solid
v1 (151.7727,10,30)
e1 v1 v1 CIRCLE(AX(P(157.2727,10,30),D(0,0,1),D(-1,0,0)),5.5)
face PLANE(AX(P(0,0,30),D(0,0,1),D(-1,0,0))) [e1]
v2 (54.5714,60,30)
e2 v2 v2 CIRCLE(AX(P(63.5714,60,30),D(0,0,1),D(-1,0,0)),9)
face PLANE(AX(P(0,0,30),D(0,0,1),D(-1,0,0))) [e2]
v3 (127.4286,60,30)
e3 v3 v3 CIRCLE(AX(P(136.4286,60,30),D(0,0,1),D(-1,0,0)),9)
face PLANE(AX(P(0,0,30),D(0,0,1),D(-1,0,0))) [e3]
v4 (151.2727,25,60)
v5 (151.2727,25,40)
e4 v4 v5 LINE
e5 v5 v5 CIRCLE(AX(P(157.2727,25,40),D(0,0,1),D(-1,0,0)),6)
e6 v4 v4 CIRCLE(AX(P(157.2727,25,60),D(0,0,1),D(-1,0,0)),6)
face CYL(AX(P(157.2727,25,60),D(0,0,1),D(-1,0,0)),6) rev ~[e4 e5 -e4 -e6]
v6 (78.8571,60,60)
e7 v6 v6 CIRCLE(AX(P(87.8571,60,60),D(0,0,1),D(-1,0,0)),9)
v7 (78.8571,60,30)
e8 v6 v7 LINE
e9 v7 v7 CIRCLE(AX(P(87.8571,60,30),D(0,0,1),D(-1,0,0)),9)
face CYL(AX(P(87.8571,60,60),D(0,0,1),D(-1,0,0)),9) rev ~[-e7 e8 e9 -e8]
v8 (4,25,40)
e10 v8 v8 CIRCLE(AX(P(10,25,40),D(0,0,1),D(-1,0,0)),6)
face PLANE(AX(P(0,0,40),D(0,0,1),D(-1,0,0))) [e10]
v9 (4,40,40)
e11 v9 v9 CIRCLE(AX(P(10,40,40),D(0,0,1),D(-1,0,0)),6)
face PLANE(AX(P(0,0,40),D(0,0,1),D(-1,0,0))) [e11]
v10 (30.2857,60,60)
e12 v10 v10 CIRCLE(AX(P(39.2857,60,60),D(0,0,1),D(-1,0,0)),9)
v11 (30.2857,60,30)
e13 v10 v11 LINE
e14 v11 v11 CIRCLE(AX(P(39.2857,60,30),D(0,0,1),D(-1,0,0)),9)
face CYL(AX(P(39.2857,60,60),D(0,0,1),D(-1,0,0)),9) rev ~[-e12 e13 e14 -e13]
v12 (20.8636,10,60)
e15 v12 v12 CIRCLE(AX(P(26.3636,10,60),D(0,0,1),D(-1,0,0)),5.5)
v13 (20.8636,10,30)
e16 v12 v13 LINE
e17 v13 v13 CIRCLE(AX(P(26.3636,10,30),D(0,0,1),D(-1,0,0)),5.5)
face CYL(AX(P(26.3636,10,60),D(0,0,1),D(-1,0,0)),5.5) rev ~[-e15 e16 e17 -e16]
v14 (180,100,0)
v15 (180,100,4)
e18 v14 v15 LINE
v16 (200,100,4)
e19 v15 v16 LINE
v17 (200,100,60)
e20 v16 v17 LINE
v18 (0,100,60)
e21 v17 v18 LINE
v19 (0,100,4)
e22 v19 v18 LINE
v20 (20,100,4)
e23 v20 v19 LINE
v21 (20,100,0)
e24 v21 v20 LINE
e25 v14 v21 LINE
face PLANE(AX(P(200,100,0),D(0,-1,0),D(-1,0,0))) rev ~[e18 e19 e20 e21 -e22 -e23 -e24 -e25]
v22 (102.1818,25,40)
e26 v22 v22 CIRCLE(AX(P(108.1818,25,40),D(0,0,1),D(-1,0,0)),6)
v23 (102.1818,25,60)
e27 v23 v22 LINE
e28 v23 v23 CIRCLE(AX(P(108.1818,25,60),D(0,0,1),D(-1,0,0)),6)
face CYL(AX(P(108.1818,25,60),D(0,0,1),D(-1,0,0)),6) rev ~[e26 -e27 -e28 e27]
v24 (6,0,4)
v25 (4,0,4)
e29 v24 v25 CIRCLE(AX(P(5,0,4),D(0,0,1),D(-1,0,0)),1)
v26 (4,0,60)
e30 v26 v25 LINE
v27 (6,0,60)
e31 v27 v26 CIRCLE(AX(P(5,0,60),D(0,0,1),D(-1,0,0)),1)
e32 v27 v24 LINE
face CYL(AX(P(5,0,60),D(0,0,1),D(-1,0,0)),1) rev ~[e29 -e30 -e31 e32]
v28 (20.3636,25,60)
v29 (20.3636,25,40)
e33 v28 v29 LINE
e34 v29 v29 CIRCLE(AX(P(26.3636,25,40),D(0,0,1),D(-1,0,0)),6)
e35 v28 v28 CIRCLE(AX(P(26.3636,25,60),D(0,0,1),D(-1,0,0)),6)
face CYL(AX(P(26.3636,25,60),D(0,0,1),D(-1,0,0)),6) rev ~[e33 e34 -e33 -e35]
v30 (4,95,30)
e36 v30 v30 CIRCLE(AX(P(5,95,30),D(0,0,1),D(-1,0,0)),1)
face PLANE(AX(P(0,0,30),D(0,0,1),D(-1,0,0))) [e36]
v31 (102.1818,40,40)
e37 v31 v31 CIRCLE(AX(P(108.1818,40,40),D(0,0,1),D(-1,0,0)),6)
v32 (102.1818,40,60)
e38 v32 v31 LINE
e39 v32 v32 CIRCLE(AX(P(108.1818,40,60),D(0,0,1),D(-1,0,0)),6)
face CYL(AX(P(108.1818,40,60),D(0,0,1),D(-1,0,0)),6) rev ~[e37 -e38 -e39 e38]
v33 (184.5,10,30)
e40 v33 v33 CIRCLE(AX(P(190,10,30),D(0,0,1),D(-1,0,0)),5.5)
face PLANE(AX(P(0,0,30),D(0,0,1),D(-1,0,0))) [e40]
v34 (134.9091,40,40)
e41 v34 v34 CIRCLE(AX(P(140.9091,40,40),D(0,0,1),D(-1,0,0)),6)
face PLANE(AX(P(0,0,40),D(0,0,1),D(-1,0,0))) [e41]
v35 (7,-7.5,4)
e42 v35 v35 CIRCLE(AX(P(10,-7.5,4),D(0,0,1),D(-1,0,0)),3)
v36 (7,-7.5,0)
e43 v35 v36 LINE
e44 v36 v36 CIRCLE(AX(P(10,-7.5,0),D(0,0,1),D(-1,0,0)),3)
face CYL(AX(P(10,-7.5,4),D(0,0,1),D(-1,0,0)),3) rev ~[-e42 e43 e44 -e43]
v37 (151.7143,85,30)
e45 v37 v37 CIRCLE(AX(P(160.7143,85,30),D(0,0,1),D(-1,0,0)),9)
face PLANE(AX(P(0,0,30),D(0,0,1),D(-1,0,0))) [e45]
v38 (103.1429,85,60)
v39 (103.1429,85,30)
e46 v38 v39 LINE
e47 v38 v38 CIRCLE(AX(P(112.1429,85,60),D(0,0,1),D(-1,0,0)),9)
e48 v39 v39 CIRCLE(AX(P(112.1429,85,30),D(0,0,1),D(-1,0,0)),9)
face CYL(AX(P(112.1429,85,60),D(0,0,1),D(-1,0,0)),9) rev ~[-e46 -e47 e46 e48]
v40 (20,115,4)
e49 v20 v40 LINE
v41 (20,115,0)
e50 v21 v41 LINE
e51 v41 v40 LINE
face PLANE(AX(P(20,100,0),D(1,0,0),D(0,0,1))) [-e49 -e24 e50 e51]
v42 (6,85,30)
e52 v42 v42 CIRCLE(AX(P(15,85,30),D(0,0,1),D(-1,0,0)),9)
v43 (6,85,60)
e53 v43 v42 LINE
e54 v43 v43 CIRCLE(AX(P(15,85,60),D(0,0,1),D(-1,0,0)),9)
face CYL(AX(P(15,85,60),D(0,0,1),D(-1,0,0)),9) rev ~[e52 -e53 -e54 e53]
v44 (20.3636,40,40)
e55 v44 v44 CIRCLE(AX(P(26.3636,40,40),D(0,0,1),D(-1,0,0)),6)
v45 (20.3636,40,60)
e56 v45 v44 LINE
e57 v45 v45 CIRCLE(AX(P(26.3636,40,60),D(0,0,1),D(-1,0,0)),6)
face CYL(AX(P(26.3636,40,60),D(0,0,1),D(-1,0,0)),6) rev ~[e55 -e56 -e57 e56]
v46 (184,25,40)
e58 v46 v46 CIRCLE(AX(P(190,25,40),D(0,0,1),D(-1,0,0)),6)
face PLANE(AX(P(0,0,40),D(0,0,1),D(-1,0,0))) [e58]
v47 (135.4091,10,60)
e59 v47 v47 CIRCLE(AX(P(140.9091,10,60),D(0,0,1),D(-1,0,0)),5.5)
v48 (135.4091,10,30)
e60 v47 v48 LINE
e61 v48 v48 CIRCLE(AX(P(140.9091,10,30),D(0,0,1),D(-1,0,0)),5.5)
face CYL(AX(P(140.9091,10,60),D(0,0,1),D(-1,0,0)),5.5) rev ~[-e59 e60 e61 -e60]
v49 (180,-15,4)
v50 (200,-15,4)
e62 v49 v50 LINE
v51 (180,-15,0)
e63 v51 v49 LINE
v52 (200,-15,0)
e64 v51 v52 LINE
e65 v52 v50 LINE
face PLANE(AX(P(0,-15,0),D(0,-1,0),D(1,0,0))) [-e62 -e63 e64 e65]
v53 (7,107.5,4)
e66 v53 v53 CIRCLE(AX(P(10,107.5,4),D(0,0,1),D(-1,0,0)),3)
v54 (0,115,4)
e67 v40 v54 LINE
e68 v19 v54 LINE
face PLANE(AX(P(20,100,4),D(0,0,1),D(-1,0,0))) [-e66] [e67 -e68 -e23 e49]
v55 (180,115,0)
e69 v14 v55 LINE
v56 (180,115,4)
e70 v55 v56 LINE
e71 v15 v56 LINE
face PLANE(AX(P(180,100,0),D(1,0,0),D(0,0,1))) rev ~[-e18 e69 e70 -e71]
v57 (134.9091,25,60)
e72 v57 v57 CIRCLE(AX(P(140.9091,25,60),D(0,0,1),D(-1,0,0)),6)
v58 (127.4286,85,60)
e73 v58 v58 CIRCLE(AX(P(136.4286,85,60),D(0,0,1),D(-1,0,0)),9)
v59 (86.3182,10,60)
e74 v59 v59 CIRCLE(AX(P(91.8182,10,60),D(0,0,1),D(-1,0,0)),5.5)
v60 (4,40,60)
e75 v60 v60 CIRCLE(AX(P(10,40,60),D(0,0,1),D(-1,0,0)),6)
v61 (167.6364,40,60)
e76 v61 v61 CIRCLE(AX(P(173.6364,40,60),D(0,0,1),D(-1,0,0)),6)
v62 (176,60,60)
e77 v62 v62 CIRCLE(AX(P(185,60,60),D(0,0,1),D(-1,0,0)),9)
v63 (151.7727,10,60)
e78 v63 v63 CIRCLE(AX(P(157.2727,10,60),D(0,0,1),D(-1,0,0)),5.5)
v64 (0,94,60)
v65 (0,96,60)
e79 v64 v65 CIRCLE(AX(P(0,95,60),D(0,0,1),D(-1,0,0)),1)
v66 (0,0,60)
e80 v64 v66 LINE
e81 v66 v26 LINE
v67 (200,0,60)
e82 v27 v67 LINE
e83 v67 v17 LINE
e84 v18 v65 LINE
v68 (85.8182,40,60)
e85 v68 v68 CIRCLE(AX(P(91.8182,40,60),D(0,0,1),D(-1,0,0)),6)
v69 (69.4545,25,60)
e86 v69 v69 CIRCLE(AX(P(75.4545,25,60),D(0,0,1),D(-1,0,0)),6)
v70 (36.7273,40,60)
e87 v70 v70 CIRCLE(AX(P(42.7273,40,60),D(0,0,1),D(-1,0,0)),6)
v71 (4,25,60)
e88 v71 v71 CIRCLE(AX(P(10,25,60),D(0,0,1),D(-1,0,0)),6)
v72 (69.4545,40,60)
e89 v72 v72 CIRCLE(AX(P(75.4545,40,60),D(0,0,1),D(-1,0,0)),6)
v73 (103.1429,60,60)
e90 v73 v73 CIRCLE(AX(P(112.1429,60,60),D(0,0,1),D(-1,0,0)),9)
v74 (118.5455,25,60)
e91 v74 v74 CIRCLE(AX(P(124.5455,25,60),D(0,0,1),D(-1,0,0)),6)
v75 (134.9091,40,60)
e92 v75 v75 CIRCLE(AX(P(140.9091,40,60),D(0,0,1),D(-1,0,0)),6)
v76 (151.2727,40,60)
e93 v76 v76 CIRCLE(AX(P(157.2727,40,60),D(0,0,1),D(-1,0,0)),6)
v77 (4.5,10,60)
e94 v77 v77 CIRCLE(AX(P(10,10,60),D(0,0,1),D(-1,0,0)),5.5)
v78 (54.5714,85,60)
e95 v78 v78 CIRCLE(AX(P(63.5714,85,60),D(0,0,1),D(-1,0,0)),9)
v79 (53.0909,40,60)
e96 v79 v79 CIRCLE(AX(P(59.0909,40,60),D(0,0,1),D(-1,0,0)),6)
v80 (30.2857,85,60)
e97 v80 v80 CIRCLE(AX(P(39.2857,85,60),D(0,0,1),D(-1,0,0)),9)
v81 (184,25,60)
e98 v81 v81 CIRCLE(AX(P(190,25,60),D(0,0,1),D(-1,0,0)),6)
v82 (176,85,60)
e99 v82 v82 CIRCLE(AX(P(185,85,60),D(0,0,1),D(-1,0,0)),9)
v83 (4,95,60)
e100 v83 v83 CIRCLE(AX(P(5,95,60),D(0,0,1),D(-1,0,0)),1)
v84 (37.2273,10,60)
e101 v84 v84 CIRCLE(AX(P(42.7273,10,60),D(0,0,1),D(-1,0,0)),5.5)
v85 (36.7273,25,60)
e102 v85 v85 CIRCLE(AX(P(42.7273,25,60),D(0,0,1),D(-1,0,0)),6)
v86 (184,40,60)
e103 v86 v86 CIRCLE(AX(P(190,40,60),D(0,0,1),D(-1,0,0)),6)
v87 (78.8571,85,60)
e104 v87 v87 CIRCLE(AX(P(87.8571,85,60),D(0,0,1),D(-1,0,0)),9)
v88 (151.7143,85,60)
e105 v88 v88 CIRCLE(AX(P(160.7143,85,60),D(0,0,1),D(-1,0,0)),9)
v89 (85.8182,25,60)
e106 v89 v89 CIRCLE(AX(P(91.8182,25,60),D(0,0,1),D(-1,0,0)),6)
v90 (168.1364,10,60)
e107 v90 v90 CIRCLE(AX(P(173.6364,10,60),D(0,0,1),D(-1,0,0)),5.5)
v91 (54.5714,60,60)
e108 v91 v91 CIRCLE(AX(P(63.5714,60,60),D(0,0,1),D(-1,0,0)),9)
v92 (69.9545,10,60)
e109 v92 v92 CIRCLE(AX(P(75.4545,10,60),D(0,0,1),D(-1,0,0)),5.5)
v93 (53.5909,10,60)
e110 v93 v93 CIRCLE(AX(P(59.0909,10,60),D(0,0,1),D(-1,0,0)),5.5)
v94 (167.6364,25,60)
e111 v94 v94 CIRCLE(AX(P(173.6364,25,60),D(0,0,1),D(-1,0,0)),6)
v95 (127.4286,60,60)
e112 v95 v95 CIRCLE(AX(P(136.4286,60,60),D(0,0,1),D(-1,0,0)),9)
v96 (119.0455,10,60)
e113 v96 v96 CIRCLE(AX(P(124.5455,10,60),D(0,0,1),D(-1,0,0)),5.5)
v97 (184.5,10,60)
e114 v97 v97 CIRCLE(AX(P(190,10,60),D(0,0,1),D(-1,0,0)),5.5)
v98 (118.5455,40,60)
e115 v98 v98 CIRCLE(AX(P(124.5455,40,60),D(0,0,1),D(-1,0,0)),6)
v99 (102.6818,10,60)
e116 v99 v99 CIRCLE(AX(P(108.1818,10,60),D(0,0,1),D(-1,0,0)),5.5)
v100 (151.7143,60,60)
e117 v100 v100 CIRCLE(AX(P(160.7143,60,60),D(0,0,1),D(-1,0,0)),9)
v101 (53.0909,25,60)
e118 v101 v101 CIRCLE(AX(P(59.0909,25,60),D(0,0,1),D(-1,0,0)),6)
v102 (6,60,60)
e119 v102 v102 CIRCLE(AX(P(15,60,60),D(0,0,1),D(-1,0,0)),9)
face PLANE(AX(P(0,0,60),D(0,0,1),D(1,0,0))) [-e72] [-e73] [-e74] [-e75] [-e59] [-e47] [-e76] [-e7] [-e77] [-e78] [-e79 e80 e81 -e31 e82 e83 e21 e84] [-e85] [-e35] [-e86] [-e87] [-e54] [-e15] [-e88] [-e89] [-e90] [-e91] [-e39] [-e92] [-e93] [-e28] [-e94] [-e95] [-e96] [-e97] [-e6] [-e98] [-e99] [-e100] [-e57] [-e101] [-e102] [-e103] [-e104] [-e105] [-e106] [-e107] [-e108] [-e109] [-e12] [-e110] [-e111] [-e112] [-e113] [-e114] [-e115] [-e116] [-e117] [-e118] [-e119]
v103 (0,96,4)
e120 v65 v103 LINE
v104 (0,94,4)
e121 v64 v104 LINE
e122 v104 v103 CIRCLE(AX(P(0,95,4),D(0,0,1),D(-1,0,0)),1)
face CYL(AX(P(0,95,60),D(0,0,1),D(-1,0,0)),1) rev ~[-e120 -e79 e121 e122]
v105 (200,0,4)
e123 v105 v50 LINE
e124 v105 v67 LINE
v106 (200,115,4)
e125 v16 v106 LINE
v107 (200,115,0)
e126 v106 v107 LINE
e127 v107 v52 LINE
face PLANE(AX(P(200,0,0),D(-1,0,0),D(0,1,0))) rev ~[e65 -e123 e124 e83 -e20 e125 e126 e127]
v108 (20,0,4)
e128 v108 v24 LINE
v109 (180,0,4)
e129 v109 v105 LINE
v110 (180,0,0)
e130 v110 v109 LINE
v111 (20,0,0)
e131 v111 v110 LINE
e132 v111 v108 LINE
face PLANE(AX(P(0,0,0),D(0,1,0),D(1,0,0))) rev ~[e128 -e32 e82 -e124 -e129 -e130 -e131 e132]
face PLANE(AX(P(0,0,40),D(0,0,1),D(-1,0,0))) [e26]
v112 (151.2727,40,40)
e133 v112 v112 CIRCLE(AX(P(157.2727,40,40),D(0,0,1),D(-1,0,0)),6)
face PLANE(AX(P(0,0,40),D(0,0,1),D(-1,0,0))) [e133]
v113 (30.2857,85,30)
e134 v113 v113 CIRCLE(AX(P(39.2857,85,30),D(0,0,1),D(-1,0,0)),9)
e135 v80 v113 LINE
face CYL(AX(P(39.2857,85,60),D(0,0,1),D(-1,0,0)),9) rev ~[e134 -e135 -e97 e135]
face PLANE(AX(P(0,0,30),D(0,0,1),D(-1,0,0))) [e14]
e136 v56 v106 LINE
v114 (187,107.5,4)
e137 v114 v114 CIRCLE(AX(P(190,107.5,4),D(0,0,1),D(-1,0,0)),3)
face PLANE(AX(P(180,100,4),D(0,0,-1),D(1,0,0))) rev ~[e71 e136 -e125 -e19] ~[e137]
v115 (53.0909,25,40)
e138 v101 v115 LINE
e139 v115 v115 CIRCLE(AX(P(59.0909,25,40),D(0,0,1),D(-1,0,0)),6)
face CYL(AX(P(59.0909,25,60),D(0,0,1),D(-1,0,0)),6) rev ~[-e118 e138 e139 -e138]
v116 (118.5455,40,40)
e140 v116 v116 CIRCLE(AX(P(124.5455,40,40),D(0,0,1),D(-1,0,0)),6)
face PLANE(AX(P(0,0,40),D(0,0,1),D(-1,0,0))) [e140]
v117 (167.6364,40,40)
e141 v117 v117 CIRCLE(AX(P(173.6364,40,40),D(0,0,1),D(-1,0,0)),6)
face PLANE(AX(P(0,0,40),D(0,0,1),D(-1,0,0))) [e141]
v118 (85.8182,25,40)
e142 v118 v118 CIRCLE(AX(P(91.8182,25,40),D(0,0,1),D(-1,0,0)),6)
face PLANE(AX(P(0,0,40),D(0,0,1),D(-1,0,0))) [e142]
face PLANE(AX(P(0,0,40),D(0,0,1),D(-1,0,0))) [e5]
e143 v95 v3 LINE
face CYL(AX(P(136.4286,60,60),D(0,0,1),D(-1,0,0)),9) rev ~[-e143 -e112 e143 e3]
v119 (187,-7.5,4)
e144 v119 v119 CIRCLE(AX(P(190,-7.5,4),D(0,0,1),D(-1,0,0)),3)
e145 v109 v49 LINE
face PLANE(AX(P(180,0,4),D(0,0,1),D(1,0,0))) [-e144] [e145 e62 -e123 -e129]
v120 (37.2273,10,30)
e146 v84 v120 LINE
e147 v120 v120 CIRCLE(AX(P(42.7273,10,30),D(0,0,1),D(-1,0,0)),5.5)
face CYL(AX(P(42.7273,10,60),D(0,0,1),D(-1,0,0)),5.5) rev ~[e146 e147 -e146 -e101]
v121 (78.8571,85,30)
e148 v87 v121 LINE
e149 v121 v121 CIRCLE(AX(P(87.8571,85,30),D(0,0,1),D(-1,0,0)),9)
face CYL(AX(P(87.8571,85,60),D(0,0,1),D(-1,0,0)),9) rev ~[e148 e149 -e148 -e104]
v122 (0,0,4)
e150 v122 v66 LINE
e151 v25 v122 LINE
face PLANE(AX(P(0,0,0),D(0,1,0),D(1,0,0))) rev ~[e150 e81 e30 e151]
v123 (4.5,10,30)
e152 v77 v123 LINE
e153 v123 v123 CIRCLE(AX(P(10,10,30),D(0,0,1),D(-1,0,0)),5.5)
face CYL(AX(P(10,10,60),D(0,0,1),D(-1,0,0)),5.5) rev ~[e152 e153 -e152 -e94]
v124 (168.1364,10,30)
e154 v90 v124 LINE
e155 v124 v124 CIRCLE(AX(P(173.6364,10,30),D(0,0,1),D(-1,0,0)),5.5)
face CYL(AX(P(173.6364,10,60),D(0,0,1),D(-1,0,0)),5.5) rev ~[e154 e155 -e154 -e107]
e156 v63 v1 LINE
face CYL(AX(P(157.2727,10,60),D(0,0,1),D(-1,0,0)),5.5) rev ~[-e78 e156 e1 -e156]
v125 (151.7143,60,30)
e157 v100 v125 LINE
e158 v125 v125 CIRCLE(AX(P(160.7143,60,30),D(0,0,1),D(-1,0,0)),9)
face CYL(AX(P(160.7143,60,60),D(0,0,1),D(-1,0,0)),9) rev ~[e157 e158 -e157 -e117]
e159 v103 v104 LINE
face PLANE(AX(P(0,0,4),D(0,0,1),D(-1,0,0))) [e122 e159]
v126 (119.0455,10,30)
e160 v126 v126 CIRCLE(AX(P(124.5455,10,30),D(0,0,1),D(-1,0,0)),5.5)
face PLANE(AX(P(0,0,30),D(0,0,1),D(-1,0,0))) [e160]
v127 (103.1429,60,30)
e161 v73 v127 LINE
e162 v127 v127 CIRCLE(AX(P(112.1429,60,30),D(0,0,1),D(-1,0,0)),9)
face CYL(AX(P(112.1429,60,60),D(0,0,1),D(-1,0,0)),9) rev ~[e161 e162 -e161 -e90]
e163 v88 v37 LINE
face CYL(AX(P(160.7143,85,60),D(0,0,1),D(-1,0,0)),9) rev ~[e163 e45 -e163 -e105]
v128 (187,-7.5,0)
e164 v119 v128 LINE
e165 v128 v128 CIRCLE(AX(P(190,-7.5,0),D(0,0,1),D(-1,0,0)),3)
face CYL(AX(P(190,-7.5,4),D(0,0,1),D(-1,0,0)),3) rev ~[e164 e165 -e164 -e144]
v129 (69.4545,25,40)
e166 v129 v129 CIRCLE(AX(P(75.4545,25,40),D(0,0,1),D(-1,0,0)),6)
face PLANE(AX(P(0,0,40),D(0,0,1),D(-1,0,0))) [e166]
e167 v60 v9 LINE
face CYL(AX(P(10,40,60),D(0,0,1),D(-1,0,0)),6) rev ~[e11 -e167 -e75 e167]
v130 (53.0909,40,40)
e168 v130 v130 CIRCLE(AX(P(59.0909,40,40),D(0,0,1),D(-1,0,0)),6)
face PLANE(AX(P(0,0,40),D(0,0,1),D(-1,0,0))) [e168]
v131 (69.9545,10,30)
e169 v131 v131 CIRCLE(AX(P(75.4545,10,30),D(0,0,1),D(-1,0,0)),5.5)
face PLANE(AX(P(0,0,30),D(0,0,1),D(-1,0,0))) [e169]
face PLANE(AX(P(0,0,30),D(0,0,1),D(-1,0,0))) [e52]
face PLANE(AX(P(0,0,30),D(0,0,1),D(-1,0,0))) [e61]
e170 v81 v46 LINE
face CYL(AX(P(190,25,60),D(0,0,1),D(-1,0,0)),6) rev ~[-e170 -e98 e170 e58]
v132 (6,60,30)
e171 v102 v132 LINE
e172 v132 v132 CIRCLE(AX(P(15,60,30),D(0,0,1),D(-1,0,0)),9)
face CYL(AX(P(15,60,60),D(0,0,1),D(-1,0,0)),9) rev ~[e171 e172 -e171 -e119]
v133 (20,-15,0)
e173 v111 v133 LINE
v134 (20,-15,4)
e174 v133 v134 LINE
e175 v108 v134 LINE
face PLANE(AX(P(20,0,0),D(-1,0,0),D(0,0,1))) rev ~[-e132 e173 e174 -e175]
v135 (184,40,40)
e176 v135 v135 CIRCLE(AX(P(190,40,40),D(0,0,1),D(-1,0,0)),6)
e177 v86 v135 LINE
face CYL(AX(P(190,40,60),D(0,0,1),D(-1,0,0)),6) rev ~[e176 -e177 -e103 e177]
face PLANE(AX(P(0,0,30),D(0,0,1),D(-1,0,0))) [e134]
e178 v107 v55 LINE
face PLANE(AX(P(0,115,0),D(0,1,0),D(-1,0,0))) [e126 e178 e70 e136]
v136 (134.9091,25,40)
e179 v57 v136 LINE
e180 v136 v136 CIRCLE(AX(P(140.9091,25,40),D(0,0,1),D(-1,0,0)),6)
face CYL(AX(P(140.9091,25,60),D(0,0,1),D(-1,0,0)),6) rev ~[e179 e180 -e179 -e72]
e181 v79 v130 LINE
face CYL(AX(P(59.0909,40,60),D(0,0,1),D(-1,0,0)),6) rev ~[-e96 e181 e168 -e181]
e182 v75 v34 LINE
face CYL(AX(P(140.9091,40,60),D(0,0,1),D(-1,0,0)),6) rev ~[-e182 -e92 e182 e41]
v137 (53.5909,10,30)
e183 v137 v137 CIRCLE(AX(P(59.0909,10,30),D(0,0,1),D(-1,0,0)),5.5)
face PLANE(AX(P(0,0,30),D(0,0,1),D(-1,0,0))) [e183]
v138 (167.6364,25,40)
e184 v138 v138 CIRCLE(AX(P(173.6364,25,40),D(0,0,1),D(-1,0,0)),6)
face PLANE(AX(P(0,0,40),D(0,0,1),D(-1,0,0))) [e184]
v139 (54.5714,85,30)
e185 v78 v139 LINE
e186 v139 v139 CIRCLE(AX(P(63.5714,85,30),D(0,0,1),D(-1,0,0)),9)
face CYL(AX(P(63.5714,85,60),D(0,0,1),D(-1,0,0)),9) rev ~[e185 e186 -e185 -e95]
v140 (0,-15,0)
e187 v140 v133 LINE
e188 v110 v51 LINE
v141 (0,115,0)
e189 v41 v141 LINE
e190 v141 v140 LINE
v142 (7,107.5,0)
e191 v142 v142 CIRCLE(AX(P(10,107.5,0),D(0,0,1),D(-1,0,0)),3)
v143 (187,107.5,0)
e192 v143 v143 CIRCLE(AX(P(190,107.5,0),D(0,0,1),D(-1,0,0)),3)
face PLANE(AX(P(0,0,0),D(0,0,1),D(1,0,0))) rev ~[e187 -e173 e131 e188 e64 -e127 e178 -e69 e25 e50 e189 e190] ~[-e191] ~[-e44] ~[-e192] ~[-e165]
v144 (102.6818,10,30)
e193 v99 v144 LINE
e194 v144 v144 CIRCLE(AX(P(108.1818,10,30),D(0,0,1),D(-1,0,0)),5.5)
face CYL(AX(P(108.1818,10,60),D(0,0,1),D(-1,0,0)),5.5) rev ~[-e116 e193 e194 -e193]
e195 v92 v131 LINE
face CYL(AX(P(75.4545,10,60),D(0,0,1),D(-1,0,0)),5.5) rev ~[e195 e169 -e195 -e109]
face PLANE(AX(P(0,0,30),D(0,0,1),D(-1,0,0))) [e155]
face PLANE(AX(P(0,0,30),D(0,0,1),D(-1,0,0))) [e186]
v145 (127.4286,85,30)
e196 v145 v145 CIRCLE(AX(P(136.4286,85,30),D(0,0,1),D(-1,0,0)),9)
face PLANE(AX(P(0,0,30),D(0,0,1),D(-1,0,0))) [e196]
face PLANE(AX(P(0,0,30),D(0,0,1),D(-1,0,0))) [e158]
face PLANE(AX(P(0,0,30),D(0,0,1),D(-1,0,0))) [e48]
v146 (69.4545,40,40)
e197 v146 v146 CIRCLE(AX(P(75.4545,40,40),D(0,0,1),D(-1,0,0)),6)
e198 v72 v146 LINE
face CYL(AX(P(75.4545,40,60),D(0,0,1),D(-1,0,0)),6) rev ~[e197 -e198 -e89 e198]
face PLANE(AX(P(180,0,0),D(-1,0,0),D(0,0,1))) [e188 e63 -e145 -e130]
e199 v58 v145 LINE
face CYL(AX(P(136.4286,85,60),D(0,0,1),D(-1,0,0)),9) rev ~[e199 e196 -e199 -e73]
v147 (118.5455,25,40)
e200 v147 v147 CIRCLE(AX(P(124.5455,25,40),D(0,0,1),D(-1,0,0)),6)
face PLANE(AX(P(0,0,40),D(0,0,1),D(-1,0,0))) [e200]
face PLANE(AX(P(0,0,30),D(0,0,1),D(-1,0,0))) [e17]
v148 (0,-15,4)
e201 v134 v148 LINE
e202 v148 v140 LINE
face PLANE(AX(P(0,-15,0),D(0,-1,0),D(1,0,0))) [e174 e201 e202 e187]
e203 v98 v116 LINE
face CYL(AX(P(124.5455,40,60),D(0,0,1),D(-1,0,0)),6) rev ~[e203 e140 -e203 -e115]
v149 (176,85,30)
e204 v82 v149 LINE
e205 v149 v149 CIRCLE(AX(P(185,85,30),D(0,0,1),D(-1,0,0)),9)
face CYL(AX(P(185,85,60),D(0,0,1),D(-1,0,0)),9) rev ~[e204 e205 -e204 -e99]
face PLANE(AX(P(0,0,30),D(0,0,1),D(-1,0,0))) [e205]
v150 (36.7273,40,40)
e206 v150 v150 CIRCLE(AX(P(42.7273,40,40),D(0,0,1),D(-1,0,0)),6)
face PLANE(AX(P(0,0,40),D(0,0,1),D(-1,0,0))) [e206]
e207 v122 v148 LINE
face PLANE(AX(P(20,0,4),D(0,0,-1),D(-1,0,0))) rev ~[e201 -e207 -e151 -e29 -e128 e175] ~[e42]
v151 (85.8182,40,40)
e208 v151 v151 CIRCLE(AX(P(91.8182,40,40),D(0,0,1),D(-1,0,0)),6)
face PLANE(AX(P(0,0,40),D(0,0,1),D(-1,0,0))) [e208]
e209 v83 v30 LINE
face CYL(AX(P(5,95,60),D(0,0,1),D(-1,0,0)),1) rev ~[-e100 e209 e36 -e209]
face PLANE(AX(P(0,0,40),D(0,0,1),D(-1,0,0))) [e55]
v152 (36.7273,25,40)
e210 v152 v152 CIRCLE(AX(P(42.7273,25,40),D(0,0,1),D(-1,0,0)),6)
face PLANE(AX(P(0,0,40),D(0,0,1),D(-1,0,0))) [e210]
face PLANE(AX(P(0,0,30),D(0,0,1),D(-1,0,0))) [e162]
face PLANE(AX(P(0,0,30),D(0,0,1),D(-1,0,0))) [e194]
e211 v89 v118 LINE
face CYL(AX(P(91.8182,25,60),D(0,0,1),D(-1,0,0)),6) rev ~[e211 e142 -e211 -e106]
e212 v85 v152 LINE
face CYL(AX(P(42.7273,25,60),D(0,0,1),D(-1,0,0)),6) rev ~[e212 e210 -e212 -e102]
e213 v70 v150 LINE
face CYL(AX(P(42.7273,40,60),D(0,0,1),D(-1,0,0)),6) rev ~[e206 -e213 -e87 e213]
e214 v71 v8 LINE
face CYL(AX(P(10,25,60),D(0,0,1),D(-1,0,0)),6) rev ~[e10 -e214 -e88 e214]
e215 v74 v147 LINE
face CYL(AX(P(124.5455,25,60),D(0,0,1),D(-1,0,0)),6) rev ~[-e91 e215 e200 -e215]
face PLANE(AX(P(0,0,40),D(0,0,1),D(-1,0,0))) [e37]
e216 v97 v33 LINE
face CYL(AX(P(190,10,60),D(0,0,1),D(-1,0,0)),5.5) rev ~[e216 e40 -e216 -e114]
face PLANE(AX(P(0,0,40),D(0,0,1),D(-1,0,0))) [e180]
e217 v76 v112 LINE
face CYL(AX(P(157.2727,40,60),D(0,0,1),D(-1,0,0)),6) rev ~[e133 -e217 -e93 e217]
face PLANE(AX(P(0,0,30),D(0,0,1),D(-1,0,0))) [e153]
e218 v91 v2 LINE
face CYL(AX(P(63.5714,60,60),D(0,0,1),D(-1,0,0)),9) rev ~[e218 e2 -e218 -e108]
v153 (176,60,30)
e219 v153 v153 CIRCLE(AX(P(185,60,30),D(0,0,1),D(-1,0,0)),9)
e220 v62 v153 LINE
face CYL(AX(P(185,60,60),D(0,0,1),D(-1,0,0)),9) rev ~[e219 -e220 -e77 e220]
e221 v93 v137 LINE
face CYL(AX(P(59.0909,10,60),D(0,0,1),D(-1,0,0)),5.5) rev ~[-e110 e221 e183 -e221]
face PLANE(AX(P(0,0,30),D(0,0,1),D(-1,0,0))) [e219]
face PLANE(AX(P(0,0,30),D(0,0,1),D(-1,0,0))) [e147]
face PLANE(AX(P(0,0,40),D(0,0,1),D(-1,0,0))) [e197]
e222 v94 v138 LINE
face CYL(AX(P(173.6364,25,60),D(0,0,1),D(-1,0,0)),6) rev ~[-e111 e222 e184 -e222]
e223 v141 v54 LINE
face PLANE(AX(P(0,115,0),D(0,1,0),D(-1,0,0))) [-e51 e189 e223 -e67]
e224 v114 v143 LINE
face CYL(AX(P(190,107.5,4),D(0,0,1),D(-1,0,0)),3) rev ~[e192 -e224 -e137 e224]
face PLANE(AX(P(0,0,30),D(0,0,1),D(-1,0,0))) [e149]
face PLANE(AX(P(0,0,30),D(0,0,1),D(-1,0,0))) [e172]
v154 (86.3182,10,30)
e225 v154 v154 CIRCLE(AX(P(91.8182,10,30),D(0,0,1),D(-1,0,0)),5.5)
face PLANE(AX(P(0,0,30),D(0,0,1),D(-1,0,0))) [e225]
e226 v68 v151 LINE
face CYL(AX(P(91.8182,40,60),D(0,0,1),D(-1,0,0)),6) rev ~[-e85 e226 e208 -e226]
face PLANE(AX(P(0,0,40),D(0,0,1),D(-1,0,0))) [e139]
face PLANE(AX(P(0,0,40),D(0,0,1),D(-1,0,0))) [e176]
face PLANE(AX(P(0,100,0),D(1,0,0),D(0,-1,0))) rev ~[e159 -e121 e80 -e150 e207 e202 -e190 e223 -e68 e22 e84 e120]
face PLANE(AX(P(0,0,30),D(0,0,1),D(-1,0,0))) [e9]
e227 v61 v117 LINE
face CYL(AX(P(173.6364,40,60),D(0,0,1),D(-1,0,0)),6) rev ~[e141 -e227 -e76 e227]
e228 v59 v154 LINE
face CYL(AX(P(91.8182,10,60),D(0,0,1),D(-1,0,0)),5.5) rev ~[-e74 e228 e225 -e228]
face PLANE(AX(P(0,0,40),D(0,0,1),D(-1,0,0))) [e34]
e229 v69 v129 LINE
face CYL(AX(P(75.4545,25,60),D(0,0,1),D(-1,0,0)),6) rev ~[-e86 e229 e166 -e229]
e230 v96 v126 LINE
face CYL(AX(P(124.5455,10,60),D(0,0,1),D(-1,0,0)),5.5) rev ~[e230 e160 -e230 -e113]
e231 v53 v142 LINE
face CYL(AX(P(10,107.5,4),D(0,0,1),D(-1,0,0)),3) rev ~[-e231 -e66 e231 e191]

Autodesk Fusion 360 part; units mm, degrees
sketch "Sketch2" plane through (0, 0, 0) normal (0, 0, 1) x (1, 0, 0)
  line L0 (0, 0) -> (200, 0)
  line L1 (200, 0) -> (200, 100)
  line L2 (200, 100) -> (0, 100)
  line L3 (0, 100) -> (0, 0)
  dimension "d31" = 200
  dimension "d32" = 100
extrude "Extrude2" add sketch "Sketch2" along normal blind 60
sketch "Sketch3" plane through (0, 0, 60) normal (0, 0, 1) x (-1, 0, 0)
  line L0 (0, -100) -> (0, 0)
  line L1 (0, 0) -> (-200, 0)
  line L2 (-200, 0) -> (-200, -100)
  line L3 (-200, -100) -> (0, -100)
  circle A0 centre (-15, -85) radius 9
  circle A1 centre (-39.2857, -85) radius 9
  circle A2 centre (-63.5714, -85) radius 9
  circle A3 centre (-87.8571, -85) radius 9
  circle A4 centre (-112.1429, -85) radius 9
  circle A5 centre (-136.4286, -85) radius 9
  circle A6 centre (-160.7143, -85) radius 9
  circle A7 centre (-185, -85) radius 9
  circle A8 centre (-15, -60) radius 9
  circle A9 centre (-39.2857, -60) radius 9
  circle A10 centre (-63.5714, -60) radius 9
  circle A11 centre (-87.8571, -60) radius 9
  circle A12 centre (-112.1429, -60) radius 9
  circle A13 centre (-136.4286, -60) radius 9
  circle A14 centre (-160.7143, -60) radius 9
  circle A15 centre (-185, -60) radius 9
  dimension "d35" = 18
  dimension "d36" = 15
  dimension "d37" = 15
  dimension "d40" = -170
  dimension "d41" = 0
  dimension "d44" = 0
  dimension "d45" = 25
extrude "Extrude3" cut sketch "Sketch3" against normal blind 30 contours A0 | A1 | A2 | A3 | A4 | A5 | A6 | A7 | A8 | A9 | A10 | A11 | A12 | A13 | A14 | A15
sketch "Sketch4" plane through (0, 0, 60) normal (0, 0, 1) x (-1, 0, 0)
  circle A0 centre (-63.5714, -60) radius 9
  circle A1 centre (-160.7143, -60) radius 9
  circle A2 centre (-136.4286, -85) radius 9
  circle A3 centre (-39.2857, -85) radius 9
  circle A4 centre (-63.5714, -85) radius 9
  circle A5 centre (-160.7143, -85) radius 9
  circle A6 centre (-136.4286, -60) radius 9
  circle A7 centre (-39.2857, -60) radius 9
  circle A8 centre (-87.8571, -60) radius 9
  circle A9 centre (-185, -60) radius 9
  circle A10 centre (-112.1429, -85) radius 9
  circle A11 centre (-15, -85) radius 9
  circle A12 centre (-87.8571, -85) radius 9
  circle A13 centre (-185, -85) radius 9
  circle A14 centre (-112.1429, -60) radius 9
  circle A15 centre (-15, -60) radius 9
  line L0 (0, -100) -> (0, 0)
  line L1 (0, 0) -> (-200, 0)
  line L2 (-200, 0) -> (-200, -100)
  line L3 (-200, -100) -> (0, -100)
  circle A16 centre (-10, -40) radius 6
  circle A17 centre (-26.3636, -40) radius 6
  circle A18 centre (-42.7273, -40) radius 6
  circle A19 centre (-59.0909, -40) radius 6
  circle A20 centre (-75.4545, -40) radius 6
  circle A21 centre (-91.8182, -40) radius 6
  circle A22 centre (-108.1818, -40) radius 6
  circle A23 centre (-124.5455, -40) radius 6
  circle A24 centre (-140.9091, -40) radius 6
  circle A25 centre (-157.2727, -40) radius 6
  circle A26 centre (-173.6364, -40) radius 6
  circle A27 centre (-190, -40) radius 6
  circle A28 centre (-10, -25) radius 6
  circle A29 centre (-26.3636, -25) radius 6
  circle A30 centre (-42.7273, -25) radius 6
  circle A31 centre (-59.0909, -25) radius 6
  circle A32 centre (-75.4545, -25) radius 6
  circle A33 centre (-91.8182, -25) radius 6
  circle A34 centre (-108.1818, -25) radius 6
  circle A35 centre (-124.5455, -25) radius 6
  circle A36 centre (-140.9091, -25) radius 6
  circle A37 centre (-157.2727, -25) radius 6
  circle A38 centre (-173.6364, -25) radius 6
  circle A39 centre (-190, -25) radius 6
  circle A40 centre (-10, -10) radius 5.5
  circle A41 centre (-26.3636, -10) radius 5.5
  circle A42 centre (-42.7273, -10) radius 5.5
  circle A43 centre (-59.0909, -10) radius 5.5
  circle A44 centre (-75.4545, -10) radius 5.5
  circle A45 centre (-91.8182, -10) radius 5.5
  circle A46 centre (-108.1818, -10) radius 5.5
  circle A47 centre (-124.5455, -10) radius 5.5
  circle A48 centre (-140.9091, -10) radius 5.5
  circle A49 centre (-157.2727, -10) radius 5.5
  circle A50 centre (-173.6364, -10) radius 5.5
  circle A51 centre (-190, -10) radius 5.5
  dimension "d48" = 12
  dimension "d49" = 10
  dimension "d52" = -180
  dimension "d53" = 0
  dimension "d56" = 0
  dimension "d57" = 15
  dimension "d58" = 11
  dimension "d61" = -180
  dimension "d62" = 0
extrude "Extrude4" cut sketch "Sketch4" against normal blind 20 contours A16 | A17 | A18 | A19 | A20 | A21 | A22 | A23 | A24 | A25 | A26 | A27 | A28 | A29 | A30 | A31 | A32 | A33 | A34 | A35 | A36 | A37 | A38 | A39
sketch "Sketch5" plane through (0, 0, 60) normal (0, 0, 1) x (-1, 0, 0)
  circle A0 centre (-42.7273, -25) radius 6
  circle A1 centre (-108.1818, -25) radius 6
  circle A2 centre (-173.6364, -25) radius 6
  circle A3 centre (-157.2727, -40) radius 6
  circle A4 centre (-91.8182, -40) radius 6
  circle A5 centre (-26.3636, -40) radius 6
  circle A6 centre (-42.7273, -40) radius 6
  circle A7 centre (-108.1818, -40) radius 6
  circle A8 centre (-173.6364, -40) radius 6
  circle A9 centre (-157.2727, -25) radius 6
  circle A10 centre (-91.8182, -25) radius 6
  circle A11 centre (-26.3636, -25) radius 6
  circle A12 centre (-59.0909, -25) radius 6
  circle A13 centre (-124.5455, -25) radius 6
  circle A14 centre (-190, -25) radius 6
  circle A15 centre (-140.9091, -40) radius 6
  circle A16 centre (-75.4545, -40) radius 6
  circle A17 centre (-10, -40) radius 6
  circle A18 centre (-59.0909, -40) radius 6
  circle A19 centre (-124.5455, -40) radius 6
  circle A20 centre (-190, -40) radius 6
  circle A21 centre (-140.9091, -25) radius 6
  circle A22 centre (-75.4545, -25) radius 6
  circle A23 centre (-10, -25) radius 6
  circle A24 centre (-63.5714, -60) radius 9
  circle A25 centre (-160.7143, -60) radius 9
  circle A26 centre (-136.4286, -85) radius 9
  circle A27 centre (-39.2857, -85) radius 9
  circle A28 centre (-63.5714, -85) radius 9
  circle A29 centre (-160.7143, -85) radius 9
  circle A30 centre (-136.4286, -60) radius 9
  circle A31 centre (-39.2857, -60) radius 9
  circle A32 centre (-87.8571, -60) radius 9
  circle A33 centre (-185, -60) radius 9
  circle A34 centre (-112.1429, -85) radius 9
  circle A35 centre (-15, -85) radius 9
  circle A36 centre (-87.8571, -85) radius 9
  circle A37 centre (-185, -85) radius 9
  circle A38 centre (-112.1429, -60) radius 9
  circle A39 centre (-15, -60) radius 9
  line L0 (0, -100) -> (0, 0)
  line L1 (0, 0) -> (-200, 0)
  line L2 (-200, 0) -> (-200, -100)
  line L3 (-200, -100) -> (0, -100)
  circle A40 centre (-10, -10) radius 5.5
  circle A41 centre (-26.3636, -10) radius 5.5
  circle A42 centre (-42.7273, -10) radius 5.5
  circle A43 centre (-59.0909, -10) radius 5.5
  circle A44 centre (-75.4545, -10) radius 5.5
  circle A45 centre (-91.8182, -10) radius 5.5
  circle A46 centre (-108.1818, -10) radius 5.5
  circle A47 centre (-124.5455, -10) radius 5.5
  circle A48 centre (-140.9091, -10) radius 5.5
  circle A49 centre (-157.2727, -10) radius 5.5
  circle A50 centre (-173.6364, -10) radius 5.5
  circle A51 centre (-190, -10) radius 5.5
  dimension "d65" = 11
  dimension "d68" = -180
  dimension "d69" = 0
extrude "Extrude5" cut sketch "Sketch5" against normal blind 30 contours A40 | A41 | A42 | A43 | A44 | A45 | A46 | A47 | A48 | A49 | A50 | A51
sketch "Sketch6" plane through (0, 0, 0) normal (0, -1, 0) x (1, 0, 0)
  line L0 (0, 0) -> (200, 0)
  line L1 (200, 0) -> (200, 60)
  line L2 (200, 60) -> (0, 60)
  line L3 (0, 60) -> (0, 0)
  line L4 (0, 0) -> (20, 0)
  line L5 (20, 0) -> (20, 4)
  line L6 (20, 4) -> (0, 4)
  line L7 (0, 4) -> (0, 0)
  line L8 (200, 0) -> (180, 0)
  line L9 (180, 0) -> (180, 4)
  line L10 (180, 4) -> (200, 4)
  line L11 (200, 4) -> (200, 0)
  dimension "d72" = 20
  dimension "d73" = 4
  dimension "d74" = 20
  dimension "d75" = 4
extrude "Extrude6" add sketch "Sketch6" along normal blind 15 contours L0 L3 L4 L5 L6 L7 | L0 L1 L8 L9 L10 L11
sketch "Sketch7" plane through (0, 100, 0) normal (0, 1, 0) x (-1, 0, 0)
  line L0 (-200, 0) -> (0, 0)
  line L1 (0, 0) -> (0, 60)
  line L2 (0, 60) -> (-200, 60)
  line L3 (-200, 60) -> (-200, 0)
  line L4 (-200, 0) -> (-180, 0)
  line L5 (-180, 0) -> (-180, 4)
  line L6 (-180, 4) -> (-200, 4)
  line L7 (-200, 4) -> (-200, 0)
  line L8 (0, 0) -> (-20, 0)
  line L9 (-20, 0) -> (-20, 4)
  line L10 (-20, 4) -> (0, 4)
  line L11 (0, 4) -> (0, 0)
  dimension "d78" = 20
  dimension "d79" = 4
  dimension "d80" = 20
  dimension "d81" = 4
extrude "Extrude7" add sketch "Sketch7" along normal blind 15 contours L0 L3 L4 L5 L6 L7 | L0 L1 L8 L9 L10 L11
sketch "Sketch8" plane through (0, 0, 4) normal (0, 0, 1) x (-1, 0, 0)
  line L0 (-180, -100) -> (-200, -100)
  line L1 (-200, -100) -> (-200, -115)
  line L2 (-200, -115) -> (-180, -115)
  line L3 (-180, -115) -> (-180, -100)
  circle A0 centre (-190, -107.5) radius 3
  dimension "d84" = 6
  dimension "d85" = 10
  dimension "d86" = 7.5
extrude "Extrude8" cut sketch "Sketch8" against normal blind 4 contours A0
sketch "Sketch9" plane through (0, 0, 4) normal (0, 0, 1) x (-1, 0, 0)
  line L0 (-200, 0) -> (-180, 0)
  line L1 (-180, 0) -> (-180, 15)
  line L2 (-180, 15) -> (-200, 15)
  line L3 (-200, 15) -> (-200, 0)
  circle A0 centre (-190, 7.5) radius 3
  dimension "d89" = 6
  dimension "d90" = 7.5
  dimension "d91" = 10
extrude "Extrude9" cut sketch "Sketch9" against normal blind 4 contours A0
sketch "Sketch10" plane through (0, 0, 4) normal (0, 0, 1) x (-1, 0, 0)
  line L0 (-20, 0) -> (0, 0)
  line L1 (0, 0) -> (0, 15)
  line L2 (0, 15) -> (-20, 15)
  line L3 (-20, 15) -> (-20, 0)
  circle A0 centre (-10, 7.5) radius 3
  dimension "d94" = 6
  dimension "d95" = 7.5
  dimension "d96" = 10
extrude "Extrude10" cut sketch "Sketch10" against normal blind 4 contours A0
sketch "Sketch11" plane through (0, 0, 4) normal (0, 0, 1) x (-1, 0, 0)
  line L0 (0, -100) -> (-20, -100)
  line L1 (-20, -100) -> (-20, -115)
  line L2 (-20, -115) -> (0, -115)
  line L3 (0, -115) -> (0, -100)
  circle A0 centre (-10, -107.5) radius 3
  dimension "d99" = 6
  dimension "d100" = 7.5
  dimension "d101" = 10
extrude "Extrude11" cut sketch "Sketch11" against normal blind 4 contours A0
sketch "Sketch12" plane through (0, 0, 60) normal (0, 0, 1) x (-1, 0, 0)
  circle A0 centre (-157.2727, -10) radius 5.5
  circle A1 centre (-91.8182, -10) radius 5.5
  circle A2 centre (-26.3636, -10) radius 5.5
  circle A3 centre (-42.7273, -10) radius 5.5
  circle A4 centre (-108.1818, -10) radius 5.5
  circle A5 centre (-173.6364, -10) radius 5.5
  circle A6 centre (-140.9091, -10) radius 5.5
  circle A7 centre (-75.4545, -10) radius 5.5
  circle A8 centre (-10, -10) radius 5.5
  circle A9 centre (-59.0909, -10) radius 5.5
  circle A10 centre (-124.5455, -10) radius 5.5
  circle A11 centre (-190, -10) radius 5.5
  circle A12 centre (-42.7273, -25) radius 6
  circle A13 centre (-108.1818, -25) radius 6
  circle A14 centre (-173.6364, -25) radius 6
  circle A15 centre (-157.2727, -40) radius 6
  circle A16 centre (-91.8182, -40) radius 6
  circle A17 centre (-26.3636, -40) radius 6
  circle A18 centre (-42.7273, -40) radius 6
  circle A19 centre (-108.1818, -40) radius 6
  circle A20 centre (-173.6364, -40) radius 6
  circle A21 centre (-157.2727, -25) radius 6
  circle A22 centre (-91.8182, -25) radius 6
  circle A23 centre (-26.3636, -25) radius 6
  circle A24 centre (-59.0909, -25) radius 6
  circle A25 centre (-124.5455, -25) radius 6
  circle A26 centre (-190, -25) radius 6
  circle A27 centre (-140.9091, -40) radius 6
  circle A28 centre (-75.4545, -40) radius 6
  circle A29 centre (-10, -40) radius 6
  circle A30 centre (-59.0909, -40) radius 6
  circle A31 centre (-124.5455, -40) radius 6
  circle A32 centre (-190, -40) radius 6
  circle A33 centre (-140.9091, -25) radius 6
  circle A34 centre (-75.4545, -25) radius 6
  circle A35 centre (-10, -25) radius 6
  circle A36 centre (-63.5714, -60) radius 9
  circle A37 centre (-160.7143, -60) radius 9
  circle A38 centre (-136.4286, -85) radius 9
  circle A39 centre (-39.2857, -85) radius 9
  circle A40 centre (-63.5714, -85) radius 9
  circle A41 centre (-160.7143, -85) radius 9
  circle A42 centre (-136.4286, -60) radius 9
  circle A43 centre (-39.2857, -60) radius 9
  circle A44 centre (-87.8571, -60) radius 9
  circle A45 centre (-185, -60) radius 9
  circle A46 centre (-112.1429, -85) radius 9
  circle A47 centre (-15, -85) radius 9
  circle A48 centre (-87.8571, -85) radius 9
  circle A49 centre (-185, -85) radius 9
  circle A50 centre (-112.1429, -60) radius 9
  circle A51 centre (-15, -60) radius 9
  line L0 (0, -100) -> (0, 0)
  line L1 (0, 0) -> (-200, 0)
  line L2 (-200, 0) -> (-200, -100)
  line L3 (-200, -100) -> (0, -100)
  circle A52 centre (-5, -95) radius 1
extrude "Extrude12" cut sketch "Sketch12" against normal blind 30 contours A52
sketch "Sketch13" plane through (0, 0, 60) normal (0, 0, 1) x (-1, 0, 0)
  circle A0 centre (-5, -95) radius 1
  circle A1 centre (-157.2727, -10) radius 5.5
  circle A2 centre (-91.8182, -10) radius 5.5
  circle A3 centre (-26.3636, -10) radius 5.5
  circle A4 centre (-42.7273, -10) radius 5.5
  circle A5 centre (-108.1818, -10) radius 5.5
  circle A6 centre (-173.6364, -10) radius 5.5
  circle A7 centre (-140.9091, -10) radius 5.5
  circle A8 centre (-75.4545, -10) radius 5.5
  circle A9 centre (-10, -10) radius 5.5
  circle A10 centre (-59.0909, -10) radius 5.5
  circle A11 centre (-124.5455, -10) radius 5.5
  circle A12 centre (-190, -10) radius 5.5
  circle A13 centre (-42.7273, -25) radius 6
  circle A14 centre (-108.1818, -25) radius 6
  circle A15 centre (-173.6364, -25) radius 6
  circle A16 centre (-157.2727, -40) radius 6
  circle A17 centre (-91.8182, -40) radius 6
  circle A18 centre (-26.3636, -40) radius 6
  circle A19 centre (-42.7273, -40) radius 6
  circle A20 centre (-108.1818, -40) radius 6
  circle A21 centre (-173.6364, -40) radius 6
  circle A22 centre (-157.2727, -25) radius 6
  circle A23 centre (-91.8182, -25) radius 6
  circle A24 centre (-26.3636, -25) radius 6
  circle A25 centre (-59.0909, -25) radius 6
  circle A26 centre (-124.5455, -25) radius 6
  circle A27 centre (-190, -25) radius 6
  circle A28 centre (-140.9091, -40) radius 6
  circle A29 centre (-75.4545, -40) radius 6
  circle A30 centre (-10, -40) radius 6
  circle A31 centre (-59.0909, -40) radius 6
  circle A32 centre (-124.5455, -40) radius 6
  circle A33 centre (-190, -40) radius 6
  circle A34 centre (-140.9091, -25) radius 6
  circle A35 centre (-75.4545, -25) radius 6
  circle A36 centre (-10, -25) radius 6
  circle A37 centre (-63.5714, -60) radius 9
  circle A38 centre (-160.7143, -60) radius 9
  circle A39 centre (-136.4286, -85) radius 9
  circle A40 centre (-39.2857, -85) radius 9
  circle A41 centre (-63.5714, -85) radius 9
  circle A42 centre (-160.7143, -85) radius 9
  circle A43 centre (-136.4286, -60) radius 9
  circle A44 centre (-39.2857, -60) radius 9
  circle A45 centre (-87.8571, -60) radius 9
  circle A46 centre (-185, -60) radius 9
  circle A47 centre (-112.1429, -85) radius 9
  circle A48 centre (-15, -85) radius 9
  circle A49 centre (-87.8571, -85) radius 9
  circle A50 centre (-185, -85) radius 9
  circle A51 centre (-112.1429, -60) radius 9
  circle A52 centre (-15, -60) radius 9
  line L0 (0, -100) -> (0, 0)
  line L1 (0, 0) -> (-200, 0)
  line L2 (-200, 0) -> (-200, -100)
  line L3 (-200, -100) -> (0, -100)
  circle A53 centre (0, -95) radius 1
  circle A54 centre (-5, 0) radius 1
extrude "Extrude13" cut sketch "Sketch13" against normal blind 56 contours L0 A53 | L1 A54 picked at (-0.2606, -94.7922) picked at (-5.2041, -0.3103)
